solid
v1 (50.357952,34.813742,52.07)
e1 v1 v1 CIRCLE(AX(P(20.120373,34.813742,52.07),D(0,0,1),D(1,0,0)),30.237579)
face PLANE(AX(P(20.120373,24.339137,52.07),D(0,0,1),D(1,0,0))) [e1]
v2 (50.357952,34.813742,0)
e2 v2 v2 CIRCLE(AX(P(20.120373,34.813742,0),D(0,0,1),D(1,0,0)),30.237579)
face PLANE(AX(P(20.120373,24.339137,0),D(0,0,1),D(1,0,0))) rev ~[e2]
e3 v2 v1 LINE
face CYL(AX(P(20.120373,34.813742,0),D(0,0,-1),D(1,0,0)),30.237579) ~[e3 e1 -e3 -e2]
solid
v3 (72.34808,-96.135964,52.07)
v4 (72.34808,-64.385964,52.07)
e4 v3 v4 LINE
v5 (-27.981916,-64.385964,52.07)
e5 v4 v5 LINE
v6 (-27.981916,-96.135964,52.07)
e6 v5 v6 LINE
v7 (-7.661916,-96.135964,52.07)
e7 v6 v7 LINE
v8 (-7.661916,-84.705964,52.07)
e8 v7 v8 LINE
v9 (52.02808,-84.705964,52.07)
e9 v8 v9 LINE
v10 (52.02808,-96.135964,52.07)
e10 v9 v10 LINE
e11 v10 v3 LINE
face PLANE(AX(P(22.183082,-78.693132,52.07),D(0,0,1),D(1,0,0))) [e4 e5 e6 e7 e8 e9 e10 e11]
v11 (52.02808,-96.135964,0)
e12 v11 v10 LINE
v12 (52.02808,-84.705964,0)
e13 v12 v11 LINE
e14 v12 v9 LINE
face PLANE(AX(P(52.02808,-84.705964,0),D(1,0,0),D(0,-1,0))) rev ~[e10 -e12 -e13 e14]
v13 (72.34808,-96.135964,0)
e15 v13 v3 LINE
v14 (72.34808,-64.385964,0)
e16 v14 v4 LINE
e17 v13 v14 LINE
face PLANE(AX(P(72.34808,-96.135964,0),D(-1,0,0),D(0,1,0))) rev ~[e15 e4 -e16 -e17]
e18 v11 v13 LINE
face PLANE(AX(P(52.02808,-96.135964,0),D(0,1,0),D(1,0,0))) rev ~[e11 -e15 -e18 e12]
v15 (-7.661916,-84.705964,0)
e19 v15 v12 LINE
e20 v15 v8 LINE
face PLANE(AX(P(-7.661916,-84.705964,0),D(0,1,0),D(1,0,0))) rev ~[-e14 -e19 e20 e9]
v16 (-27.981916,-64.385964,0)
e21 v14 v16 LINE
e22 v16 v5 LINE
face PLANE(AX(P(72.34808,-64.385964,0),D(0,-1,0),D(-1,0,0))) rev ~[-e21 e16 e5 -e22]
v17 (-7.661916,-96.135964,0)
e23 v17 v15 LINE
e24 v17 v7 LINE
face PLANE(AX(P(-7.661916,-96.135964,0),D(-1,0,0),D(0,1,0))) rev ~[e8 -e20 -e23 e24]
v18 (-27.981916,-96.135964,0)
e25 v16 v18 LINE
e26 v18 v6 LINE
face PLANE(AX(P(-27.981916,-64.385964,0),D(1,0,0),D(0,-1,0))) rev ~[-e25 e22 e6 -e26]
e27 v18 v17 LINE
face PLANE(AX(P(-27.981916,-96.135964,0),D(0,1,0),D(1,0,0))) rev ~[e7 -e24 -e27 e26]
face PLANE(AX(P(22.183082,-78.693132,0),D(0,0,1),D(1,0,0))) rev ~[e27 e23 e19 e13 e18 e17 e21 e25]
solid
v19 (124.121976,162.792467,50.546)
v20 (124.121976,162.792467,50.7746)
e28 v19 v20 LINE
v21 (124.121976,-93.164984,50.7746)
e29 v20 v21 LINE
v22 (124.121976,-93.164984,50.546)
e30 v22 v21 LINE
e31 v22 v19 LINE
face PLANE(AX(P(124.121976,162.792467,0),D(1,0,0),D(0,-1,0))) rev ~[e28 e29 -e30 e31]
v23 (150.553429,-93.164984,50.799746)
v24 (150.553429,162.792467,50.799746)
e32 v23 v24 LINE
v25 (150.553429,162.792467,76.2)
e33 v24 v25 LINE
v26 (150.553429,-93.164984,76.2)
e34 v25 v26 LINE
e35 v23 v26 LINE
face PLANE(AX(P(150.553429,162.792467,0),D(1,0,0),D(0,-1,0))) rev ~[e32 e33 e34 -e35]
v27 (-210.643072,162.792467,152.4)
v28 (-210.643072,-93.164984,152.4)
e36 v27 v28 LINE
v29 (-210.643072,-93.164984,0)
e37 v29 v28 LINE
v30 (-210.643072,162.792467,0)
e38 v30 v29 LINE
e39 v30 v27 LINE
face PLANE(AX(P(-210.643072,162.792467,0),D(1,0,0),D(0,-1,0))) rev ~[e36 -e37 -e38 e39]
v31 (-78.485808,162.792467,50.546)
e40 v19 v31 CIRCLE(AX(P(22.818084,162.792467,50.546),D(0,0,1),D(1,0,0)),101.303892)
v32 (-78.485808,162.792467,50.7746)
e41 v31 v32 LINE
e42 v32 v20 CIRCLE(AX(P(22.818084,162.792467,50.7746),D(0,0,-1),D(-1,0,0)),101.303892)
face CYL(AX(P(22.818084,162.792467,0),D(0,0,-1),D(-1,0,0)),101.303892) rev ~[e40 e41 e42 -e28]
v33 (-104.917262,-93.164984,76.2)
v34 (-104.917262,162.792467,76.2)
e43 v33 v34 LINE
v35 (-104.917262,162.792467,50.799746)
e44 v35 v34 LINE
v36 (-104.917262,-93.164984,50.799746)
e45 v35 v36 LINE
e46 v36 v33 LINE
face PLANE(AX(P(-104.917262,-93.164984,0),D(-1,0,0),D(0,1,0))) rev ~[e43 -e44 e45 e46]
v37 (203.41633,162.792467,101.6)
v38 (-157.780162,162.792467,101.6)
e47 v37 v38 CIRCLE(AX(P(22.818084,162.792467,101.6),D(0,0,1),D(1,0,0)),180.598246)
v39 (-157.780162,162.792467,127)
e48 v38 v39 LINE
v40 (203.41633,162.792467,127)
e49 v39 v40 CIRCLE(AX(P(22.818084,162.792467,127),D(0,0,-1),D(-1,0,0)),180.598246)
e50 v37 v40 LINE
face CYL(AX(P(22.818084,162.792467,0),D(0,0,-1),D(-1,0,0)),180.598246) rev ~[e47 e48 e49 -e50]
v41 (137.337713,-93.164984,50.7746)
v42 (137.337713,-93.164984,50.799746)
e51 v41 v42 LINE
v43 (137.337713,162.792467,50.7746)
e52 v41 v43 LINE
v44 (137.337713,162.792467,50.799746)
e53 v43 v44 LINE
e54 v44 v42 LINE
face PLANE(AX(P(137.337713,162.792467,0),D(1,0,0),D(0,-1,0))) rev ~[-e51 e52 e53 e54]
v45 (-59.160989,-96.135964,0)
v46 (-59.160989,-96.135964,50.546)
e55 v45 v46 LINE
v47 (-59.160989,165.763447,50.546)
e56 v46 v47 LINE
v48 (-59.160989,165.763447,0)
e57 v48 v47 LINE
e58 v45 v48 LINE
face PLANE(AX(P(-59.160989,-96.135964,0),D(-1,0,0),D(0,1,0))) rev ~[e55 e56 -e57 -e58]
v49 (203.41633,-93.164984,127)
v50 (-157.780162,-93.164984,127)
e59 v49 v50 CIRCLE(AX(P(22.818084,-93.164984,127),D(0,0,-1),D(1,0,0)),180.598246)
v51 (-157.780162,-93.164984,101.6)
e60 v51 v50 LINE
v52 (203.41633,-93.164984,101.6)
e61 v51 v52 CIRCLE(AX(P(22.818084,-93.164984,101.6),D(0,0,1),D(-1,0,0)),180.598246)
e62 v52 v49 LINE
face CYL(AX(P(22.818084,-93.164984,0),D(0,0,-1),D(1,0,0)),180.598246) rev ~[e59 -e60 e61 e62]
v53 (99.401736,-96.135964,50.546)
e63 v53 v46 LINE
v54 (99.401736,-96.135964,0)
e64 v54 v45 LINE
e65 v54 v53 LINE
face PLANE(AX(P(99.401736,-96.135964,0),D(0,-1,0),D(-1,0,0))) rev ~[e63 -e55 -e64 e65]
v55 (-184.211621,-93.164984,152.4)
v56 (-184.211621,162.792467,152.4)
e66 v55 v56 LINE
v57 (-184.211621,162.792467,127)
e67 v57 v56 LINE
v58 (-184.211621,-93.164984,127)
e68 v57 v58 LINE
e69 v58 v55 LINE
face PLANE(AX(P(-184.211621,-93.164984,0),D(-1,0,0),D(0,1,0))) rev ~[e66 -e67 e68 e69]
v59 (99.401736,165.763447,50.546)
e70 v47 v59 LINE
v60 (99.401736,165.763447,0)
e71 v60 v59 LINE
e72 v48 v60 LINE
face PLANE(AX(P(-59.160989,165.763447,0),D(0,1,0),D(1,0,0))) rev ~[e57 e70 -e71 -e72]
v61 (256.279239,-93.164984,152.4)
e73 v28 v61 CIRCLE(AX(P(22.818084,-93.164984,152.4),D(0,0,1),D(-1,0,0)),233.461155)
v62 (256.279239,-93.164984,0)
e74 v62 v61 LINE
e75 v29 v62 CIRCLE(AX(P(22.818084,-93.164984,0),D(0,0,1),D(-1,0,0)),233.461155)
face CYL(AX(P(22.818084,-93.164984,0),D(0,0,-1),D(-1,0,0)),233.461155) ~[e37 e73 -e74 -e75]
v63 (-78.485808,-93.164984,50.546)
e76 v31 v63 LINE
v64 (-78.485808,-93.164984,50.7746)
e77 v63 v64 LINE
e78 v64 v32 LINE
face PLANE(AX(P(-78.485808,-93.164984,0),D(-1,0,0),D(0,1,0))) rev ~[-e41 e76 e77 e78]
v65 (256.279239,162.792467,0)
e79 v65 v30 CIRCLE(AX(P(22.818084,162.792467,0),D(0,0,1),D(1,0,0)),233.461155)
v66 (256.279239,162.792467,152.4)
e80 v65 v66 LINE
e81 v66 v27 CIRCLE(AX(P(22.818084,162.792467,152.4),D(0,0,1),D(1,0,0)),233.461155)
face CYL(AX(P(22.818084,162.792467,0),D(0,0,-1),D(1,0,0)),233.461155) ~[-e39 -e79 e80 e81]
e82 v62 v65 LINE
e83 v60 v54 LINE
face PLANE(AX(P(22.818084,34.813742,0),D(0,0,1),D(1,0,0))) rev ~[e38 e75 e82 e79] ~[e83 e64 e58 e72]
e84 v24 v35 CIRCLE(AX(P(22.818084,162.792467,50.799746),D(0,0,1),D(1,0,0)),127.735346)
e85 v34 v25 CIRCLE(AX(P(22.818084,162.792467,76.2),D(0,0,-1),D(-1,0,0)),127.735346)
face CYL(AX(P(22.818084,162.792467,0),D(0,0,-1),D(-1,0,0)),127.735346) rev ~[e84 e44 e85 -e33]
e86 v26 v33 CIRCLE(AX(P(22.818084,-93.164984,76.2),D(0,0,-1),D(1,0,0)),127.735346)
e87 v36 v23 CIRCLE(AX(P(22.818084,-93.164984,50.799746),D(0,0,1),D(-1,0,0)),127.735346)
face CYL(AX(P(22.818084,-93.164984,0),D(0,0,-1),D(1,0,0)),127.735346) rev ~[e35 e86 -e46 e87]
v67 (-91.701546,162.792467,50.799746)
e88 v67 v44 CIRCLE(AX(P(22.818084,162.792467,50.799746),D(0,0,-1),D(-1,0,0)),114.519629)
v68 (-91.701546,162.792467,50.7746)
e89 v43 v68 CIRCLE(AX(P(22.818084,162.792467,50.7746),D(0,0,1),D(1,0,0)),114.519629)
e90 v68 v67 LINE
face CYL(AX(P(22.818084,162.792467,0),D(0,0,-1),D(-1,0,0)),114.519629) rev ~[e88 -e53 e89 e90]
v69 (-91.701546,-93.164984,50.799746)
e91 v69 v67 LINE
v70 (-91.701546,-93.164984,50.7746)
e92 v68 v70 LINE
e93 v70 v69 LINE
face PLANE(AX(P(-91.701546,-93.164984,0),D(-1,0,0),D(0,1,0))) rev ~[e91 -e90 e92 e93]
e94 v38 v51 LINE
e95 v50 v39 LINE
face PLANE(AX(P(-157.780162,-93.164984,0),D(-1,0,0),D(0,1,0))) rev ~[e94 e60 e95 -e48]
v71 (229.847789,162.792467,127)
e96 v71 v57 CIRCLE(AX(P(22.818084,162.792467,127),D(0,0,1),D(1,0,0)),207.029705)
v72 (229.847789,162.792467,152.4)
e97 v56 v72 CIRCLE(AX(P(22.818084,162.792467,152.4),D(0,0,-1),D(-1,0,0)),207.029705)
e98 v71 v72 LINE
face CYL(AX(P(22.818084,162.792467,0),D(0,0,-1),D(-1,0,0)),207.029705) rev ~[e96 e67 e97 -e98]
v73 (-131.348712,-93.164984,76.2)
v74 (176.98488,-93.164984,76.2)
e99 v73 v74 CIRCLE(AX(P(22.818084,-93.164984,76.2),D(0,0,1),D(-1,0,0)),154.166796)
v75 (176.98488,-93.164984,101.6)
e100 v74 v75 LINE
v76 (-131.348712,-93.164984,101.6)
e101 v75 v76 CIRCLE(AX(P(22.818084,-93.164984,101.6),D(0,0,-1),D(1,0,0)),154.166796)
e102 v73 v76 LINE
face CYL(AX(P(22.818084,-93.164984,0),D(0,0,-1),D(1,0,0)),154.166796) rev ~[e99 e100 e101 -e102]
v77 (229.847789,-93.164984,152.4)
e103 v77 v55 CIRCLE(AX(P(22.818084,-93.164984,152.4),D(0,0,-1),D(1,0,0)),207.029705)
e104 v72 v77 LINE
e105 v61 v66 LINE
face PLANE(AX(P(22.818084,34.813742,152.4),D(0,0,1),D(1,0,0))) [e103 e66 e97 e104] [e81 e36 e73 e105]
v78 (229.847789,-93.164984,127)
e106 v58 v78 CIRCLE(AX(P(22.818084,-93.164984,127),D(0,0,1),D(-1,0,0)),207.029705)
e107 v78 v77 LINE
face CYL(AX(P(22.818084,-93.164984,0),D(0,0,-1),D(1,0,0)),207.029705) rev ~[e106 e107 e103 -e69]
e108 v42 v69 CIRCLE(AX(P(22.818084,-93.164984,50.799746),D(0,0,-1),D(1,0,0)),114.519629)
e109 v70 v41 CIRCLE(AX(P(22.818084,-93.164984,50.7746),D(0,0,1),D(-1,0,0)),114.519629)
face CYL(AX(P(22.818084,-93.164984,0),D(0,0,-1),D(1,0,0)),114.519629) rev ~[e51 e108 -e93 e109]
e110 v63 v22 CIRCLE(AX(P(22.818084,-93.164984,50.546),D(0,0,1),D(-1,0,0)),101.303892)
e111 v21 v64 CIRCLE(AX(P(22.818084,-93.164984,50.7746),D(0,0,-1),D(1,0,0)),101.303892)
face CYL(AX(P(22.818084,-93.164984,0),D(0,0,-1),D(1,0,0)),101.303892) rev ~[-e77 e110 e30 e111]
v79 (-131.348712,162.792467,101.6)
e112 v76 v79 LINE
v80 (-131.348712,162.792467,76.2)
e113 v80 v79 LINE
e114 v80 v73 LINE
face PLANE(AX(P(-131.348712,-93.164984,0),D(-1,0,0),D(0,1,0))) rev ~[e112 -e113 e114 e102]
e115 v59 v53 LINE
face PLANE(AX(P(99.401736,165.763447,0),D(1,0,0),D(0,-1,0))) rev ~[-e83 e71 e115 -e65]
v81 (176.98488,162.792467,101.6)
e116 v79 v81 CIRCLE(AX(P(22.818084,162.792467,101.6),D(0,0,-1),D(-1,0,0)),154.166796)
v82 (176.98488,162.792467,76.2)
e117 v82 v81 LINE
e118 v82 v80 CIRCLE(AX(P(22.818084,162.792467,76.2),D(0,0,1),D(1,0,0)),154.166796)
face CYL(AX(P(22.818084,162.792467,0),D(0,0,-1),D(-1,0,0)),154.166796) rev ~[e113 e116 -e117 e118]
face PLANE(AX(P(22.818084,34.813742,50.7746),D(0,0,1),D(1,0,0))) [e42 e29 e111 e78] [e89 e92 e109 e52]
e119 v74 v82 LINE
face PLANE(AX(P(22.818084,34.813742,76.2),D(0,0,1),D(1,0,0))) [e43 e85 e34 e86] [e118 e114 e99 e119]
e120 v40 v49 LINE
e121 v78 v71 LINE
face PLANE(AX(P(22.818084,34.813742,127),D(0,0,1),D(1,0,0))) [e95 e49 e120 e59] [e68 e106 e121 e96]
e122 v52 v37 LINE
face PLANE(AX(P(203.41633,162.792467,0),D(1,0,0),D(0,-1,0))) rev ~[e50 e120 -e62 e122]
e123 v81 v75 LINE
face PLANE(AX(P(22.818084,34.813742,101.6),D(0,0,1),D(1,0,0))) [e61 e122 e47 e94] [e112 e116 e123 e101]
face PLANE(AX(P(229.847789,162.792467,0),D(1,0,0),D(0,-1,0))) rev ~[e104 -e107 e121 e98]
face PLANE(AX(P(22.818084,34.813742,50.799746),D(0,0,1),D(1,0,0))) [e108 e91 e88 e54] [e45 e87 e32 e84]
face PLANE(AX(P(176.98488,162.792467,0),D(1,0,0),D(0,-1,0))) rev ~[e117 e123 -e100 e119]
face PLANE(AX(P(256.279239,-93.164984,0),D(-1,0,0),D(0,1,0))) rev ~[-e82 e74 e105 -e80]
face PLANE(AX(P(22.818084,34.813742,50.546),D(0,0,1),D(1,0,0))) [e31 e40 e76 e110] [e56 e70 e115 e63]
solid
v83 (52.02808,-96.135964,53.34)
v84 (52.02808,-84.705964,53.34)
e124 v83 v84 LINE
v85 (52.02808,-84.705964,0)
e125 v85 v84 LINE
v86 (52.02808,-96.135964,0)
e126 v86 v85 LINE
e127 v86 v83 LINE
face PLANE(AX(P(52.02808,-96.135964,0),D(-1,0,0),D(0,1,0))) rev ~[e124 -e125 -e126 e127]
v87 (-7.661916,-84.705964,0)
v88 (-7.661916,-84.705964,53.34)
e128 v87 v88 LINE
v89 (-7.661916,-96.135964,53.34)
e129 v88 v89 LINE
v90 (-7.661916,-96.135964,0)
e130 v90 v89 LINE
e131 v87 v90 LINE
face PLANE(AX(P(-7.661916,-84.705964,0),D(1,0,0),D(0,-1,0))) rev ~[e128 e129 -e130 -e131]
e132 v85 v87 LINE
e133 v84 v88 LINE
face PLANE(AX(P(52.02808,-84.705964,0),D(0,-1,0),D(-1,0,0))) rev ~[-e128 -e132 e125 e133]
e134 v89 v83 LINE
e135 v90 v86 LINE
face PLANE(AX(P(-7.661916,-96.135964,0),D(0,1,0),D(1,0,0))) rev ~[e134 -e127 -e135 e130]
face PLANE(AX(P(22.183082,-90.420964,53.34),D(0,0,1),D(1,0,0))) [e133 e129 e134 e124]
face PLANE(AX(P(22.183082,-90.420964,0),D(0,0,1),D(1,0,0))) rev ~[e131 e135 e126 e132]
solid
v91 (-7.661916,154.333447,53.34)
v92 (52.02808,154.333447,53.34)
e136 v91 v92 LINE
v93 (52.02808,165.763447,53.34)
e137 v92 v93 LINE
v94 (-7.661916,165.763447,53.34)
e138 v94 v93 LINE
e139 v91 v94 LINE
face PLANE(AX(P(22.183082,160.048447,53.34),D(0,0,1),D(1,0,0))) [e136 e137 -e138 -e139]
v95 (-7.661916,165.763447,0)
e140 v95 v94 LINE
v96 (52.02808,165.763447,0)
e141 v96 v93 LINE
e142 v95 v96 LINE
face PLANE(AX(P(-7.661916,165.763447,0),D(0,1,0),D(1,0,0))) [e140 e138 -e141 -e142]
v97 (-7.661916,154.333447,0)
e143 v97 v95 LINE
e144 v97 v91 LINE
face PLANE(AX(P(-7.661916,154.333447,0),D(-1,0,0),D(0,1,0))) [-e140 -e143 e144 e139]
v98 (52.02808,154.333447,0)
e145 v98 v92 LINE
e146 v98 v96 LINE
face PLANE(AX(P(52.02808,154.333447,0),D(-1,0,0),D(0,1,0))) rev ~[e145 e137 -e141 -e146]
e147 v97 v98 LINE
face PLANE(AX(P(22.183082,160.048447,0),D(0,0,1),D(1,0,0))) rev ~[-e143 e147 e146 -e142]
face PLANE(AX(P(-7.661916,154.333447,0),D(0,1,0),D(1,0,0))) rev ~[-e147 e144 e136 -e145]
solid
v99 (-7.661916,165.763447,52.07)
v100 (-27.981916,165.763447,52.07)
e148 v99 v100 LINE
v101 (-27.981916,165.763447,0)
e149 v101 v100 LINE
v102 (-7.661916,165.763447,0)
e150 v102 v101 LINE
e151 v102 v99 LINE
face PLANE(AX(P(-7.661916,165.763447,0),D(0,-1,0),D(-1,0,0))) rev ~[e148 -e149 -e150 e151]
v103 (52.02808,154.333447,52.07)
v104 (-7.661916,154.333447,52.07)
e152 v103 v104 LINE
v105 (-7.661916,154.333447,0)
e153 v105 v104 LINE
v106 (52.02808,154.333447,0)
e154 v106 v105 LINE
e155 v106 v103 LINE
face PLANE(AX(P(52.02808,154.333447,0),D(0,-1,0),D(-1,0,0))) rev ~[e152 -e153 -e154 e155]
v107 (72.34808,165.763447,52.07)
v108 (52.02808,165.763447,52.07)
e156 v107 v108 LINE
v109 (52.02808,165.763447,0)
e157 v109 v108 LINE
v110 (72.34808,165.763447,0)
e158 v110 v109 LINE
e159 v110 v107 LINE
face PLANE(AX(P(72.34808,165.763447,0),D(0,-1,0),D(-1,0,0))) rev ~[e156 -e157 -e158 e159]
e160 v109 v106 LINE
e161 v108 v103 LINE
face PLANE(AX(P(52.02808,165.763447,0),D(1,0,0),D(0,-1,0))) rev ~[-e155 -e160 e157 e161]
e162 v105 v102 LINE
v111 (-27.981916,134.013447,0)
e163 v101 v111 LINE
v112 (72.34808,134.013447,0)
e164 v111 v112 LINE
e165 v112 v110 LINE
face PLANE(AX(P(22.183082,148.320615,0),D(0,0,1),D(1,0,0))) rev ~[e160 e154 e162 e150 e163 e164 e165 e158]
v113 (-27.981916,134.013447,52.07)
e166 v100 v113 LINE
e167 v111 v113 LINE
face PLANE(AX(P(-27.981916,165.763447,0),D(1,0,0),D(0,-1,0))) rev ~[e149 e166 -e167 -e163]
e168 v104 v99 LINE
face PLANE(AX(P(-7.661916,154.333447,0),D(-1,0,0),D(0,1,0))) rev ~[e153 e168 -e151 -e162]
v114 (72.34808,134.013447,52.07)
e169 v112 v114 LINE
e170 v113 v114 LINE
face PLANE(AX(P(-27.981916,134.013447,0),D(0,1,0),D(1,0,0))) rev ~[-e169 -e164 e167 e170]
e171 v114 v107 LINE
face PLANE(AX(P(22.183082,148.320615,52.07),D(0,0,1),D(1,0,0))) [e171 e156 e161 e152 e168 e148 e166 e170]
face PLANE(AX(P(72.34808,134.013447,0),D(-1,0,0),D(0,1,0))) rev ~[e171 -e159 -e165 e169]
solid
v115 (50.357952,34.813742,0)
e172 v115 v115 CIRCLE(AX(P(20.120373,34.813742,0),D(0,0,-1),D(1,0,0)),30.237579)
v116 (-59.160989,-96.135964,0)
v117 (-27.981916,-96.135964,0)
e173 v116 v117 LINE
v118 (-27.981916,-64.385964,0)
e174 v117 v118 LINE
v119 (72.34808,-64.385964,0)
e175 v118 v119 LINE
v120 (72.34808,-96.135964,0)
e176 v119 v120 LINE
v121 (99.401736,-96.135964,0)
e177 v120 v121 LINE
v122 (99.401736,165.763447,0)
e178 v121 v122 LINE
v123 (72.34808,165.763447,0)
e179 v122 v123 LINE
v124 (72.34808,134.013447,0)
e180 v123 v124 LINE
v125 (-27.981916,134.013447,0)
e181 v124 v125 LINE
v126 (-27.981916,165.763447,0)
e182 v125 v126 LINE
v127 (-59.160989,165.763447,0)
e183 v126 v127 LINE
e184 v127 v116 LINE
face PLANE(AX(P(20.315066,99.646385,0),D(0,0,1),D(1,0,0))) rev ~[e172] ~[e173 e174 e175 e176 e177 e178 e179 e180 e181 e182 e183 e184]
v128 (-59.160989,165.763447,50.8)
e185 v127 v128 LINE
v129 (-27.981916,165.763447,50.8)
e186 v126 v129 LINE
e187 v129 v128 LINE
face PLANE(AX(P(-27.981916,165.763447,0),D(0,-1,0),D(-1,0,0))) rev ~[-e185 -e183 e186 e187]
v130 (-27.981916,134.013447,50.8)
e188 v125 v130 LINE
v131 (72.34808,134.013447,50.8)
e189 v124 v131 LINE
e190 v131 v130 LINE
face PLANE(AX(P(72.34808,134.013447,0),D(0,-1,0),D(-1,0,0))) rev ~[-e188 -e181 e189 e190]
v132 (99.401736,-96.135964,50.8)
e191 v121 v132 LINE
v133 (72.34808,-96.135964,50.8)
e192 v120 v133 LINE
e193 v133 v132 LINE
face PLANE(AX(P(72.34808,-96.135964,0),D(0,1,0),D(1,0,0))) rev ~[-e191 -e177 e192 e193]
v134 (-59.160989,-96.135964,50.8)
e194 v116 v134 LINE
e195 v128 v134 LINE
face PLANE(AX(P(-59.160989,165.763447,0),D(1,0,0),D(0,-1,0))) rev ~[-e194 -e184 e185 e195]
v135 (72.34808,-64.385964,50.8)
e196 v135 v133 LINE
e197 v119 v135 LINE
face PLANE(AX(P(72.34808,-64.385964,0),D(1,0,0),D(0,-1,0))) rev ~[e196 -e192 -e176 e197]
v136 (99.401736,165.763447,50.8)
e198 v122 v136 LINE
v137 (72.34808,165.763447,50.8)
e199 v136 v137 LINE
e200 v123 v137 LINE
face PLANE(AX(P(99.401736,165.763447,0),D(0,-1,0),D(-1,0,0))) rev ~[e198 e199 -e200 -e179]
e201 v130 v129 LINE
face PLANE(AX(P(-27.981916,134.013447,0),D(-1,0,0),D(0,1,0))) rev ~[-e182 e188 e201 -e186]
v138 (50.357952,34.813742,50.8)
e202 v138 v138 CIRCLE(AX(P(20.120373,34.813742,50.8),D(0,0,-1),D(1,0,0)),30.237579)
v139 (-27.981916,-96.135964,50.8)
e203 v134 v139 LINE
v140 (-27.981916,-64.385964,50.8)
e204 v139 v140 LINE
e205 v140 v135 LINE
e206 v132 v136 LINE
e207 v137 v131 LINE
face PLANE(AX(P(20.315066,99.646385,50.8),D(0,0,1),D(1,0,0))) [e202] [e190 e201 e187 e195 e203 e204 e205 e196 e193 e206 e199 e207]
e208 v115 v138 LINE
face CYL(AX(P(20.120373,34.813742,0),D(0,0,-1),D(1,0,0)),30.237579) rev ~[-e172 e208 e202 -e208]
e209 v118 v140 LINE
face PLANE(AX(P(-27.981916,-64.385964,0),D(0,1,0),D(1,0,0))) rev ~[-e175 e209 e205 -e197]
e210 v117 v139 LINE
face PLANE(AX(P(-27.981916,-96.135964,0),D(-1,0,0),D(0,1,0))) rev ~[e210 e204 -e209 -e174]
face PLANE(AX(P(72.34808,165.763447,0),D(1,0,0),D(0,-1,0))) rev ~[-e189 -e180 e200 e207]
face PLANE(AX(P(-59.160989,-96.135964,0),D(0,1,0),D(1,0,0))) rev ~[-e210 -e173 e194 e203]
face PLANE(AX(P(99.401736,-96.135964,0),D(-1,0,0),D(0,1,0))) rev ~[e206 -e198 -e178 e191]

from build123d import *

# Parameters (mm, degrees)
F0_W      = 59.6899963813
F0_H      = 11.43
F1_DEPTH  = 53.34
F2_DEPTH  = 52.07
F3_DEPTH  = 50.8
F4_DEPTH  = 50.546
F5_DEPTH  = 50.7746
F6_DEPTH  = 50.799746
F7_DEPTH  = 76.2
F8_DEPTH  = 101.6
F9_DEPTH  = 127
F10_DEPTH = 152.4


with BuildPart() as f1:
    # F0 (on Top) → F1 (new body)
    with BuildSketch(Plane.XY):
        with Locations((22.1830820161, 160.0484472161)):
            Rectangle(F0_W, F0_H)
    extrude(amount=F1_DEPTH)


with BuildPart() as f1b:
    # F0 (on Top) → F1, piece 2 (new body)
    with BuildSketch(Plane.XY):
        Polygon((-7.6619161746, -84.705963729), (-7.6619161746, -96.135963729), (22.8180838254, -96.135963729), (52.0280802068, -96.135963729), (52.0280802068, -94.8659601103), (52.0280802068, -84.705963729), align=None)
    extrude(amount=F1_DEPTH)


with BuildPart() as f2:
    # F0 (on Top) → F2 (new body)
    with BuildSketch(Plane.XY):
        Polygon((-27.9819161746, -64.385963729), (-27.9819161746, -96.135963729), (-7.6619161746, -96.135963729), (-7.6619161746, -84.705963729), (52.0280802068, -84.705963729), (52.0280802068, -94.8659601103), (52.0280802068, -96.135963729), (67.8483322263, -96.135963729), (72.3480802068, -96.135963729), (72.3480802068, -64.385963729), align=None)
    extrude(amount=F2_DEPTH)


with BuildPart() as f2b:
    # F0 (on Top) → F2, piece 2 (new body)
    with BuildSketch(Plane.XY):
        Polygon((-7.6619161746, 165.7634472161), (-27.9819161746, 165.7634472161), (-27.9819161746, 134.0134472161), (72.3480802068, 134.0134472161), (72.3480802068, 165.7634472161), (52.0280802068, 165.7634472161), (52.0280802068, 154.3334472161), (-7.6619161746, 154.3334472161), align=None)
    extrude(amount=F2_DEPTH)


with BuildPart() as f2c:
    # F0 (on Top) → F2, piece 3 (new body)
    with BuildSketch(Plane.XY):
        with BuildLine():
            Line((50.3579524463, 34.8137417436), (-10.1172057288, 34.8137417436))
            ThreePointArc((-10.1172057288, 34.8137417436), (20.1203733588, 4.576162656), (50.3579524463, 34.8137417436))
        make_face()
        with BuildLine():
            ThreePointArc((50.3579524463, 34.8137417436), (20.1203733588, 65.0513208311), (-10.1172057288, 34.8137417436))
            Line((-10.1172057288, 34.8137417436), (50.3579524463, 34.8137417436))
        make_face()
    extrude(amount=F2_DEPTH)


with BuildPart() as f3:
    # F0 (on Top) → F3 (new body)
    with BuildSketch(Plane.XY):
        with BuildLine():
            Line((-27.9819161746, 165.7634472161), (-59.1609889327, 165.7634472161))
            Line((-59.1609889327, 165.7634472161), (-59.1609889327, 34.8137417436))
            Line((-59.1609889327, 34.8137417436), (-10.1172057288, 34.8137417436))
            ThreePointArc((-10.1172057288, 34.8137417436), (20.1203733588, 65.0513208311), (50.3579524463, 34.8137417436))
            Line((50.3579524463, 34.8137417436), (99.4017356502, 34.8137417436))
            Line((99.4017356502, 34.8137417436), (99.4017356502, 165.7634472161))
            Line((99.4017356502, 165.7634472161), (72.3480802068, 165.7634472161))
            Line((72.3480802068, 165.7634472161), (72.3480802068, 134.0134472161))
            Line((72.3480802068, 134.0134472161), (-27.9819161746, 134.0134472161))
            Line((-27.9819161746, 134.0134472161), (-27.9819161746, 165.7634472161))
        make_face()
        with BuildLine():
            Line((-10.1172057288, 34.8137417436), (-59.1609889327, 34.8137417436))
            Line((-59.1609889327, 34.8137417436), (-59.1609889327, -96.135963729))
            Line((-59.1609889327, -96.135963729), (-27.9819161746, -96.135963729))
            Line((-27.9819161746, -96.135963729), (-27.9819161746, -64.385963729))
            Line((-27.9819161746, -64.385963729), (72.3480802068, -64.385963729))
            Line((72.3480802068, -64.385963729), (72.3480802068, -96.135963729))
            Line((72.3480802068, -96.135963729), (99.4017356502, -96.135963729))
            Line((99.4017356502, -96.135963729), (99.4017356502, 34.8137417436))
            Line((99.4017356502, 34.8137417436), (50.3579524463, 34.8137417436))
            ThreePointArc((50.3579524463, 34.8137417436), (20.1203733588, 4.576162656), (-10.1172057288, 34.8137417436))
        make_face()
    extrude(amount=F3_DEPTH)


with BuildPart() as f4:
    # F0 (on Top) → F4 (new body)
    with BuildSketch(Plane.XY):
        with BuildLine():
            Line((124.1219758281, -93.1649838208), (124.1219758281, 162.7924673079))
            ThreePointArc((124.1219758281, 162.7924673079), (22.8180838254, 264.0963593106), (-78.4858081773, 162.7924673079))
            Line((-78.4858081773, 162.7924673079), (-78.4858081773, -93.1649838208))
            ThreePointArc((-78.4858081773, -93.1649838208), (22.8180838254, -194.4688758235), (124.1219758281, -93.1649838208))
        make_face()
        Polygon((-59.1609889327, 34.8137417436), (-59.1609889327, 165.7634472161), (-27.9819161746, 165.7634472161), (-7.6619161746, 165.7634472161), (52.0280802068, 165.7634472161), (72.3480802068, 165.7634472161), (99.4017356502, 165.7634472161), (99.4017356502, 34.8137417436), (99.4017356502, -96.135963729), (72.3480802068, -96.135963729), (67.8483322263, -96.135963729), (52.0280802068, -96.135963729), (22.8180838254, -96.135963729), (-7.6619161746, -96.135963729), (-27.9819161746, -96.135963729), (-59.1609889327, -96.135963729), align=None, mode=Mode.SUBTRACT)
    extrude(amount=F4_DEPTH)

    # F0 (on Top) → F5 (join)
    with BuildSketch(Plane.XY):
        with BuildLine():
            Line((137.3377131925, -93.1649838208), (137.3377131925, 162.7924673079))
            ThreePointArc((137.3377131925, 162.7924673079), (22.8180838254, 277.312096675), (-91.7015455416, 162.7924673079))
            Line((-91.7015455416, 162.7924673079), (-91.7015455416, -93.1649838208))
            ThreePointArc((-91.7015455416, -93.1649838208), (22.8180838254, -207.6846131878), (137.3377131925, -93.1649838208))
        make_face()
        with BuildLine():
            ThreePointArc((-78.4858081773, 162.7924673079), (22.8180838254, 264.0963593106), (124.1219758281, 162.7924673079))
            Line((124.1219758281, 162.7924673079), (124.1219758281, -93.1649838208))
            ThreePointArc((124.1219758281, -93.1649838208), (22.8180838254, -194.4688758235), (-78.4858081773, -93.1649838208))
            Line((-78.4858081773, -93.1649838208), (-78.4858081773, 162.7924673079))
        make_face(mode=Mode.SUBTRACT)
    extrude(amount=F5_DEPTH)

    # F0 (on Top) → F6 (join)
    with BuildSketch(Plane.XY):
        with BuildLine():
            Line((150.5534294362, -93.1649838208), (150.5534294362, 162.7924673079))
            ThreePointArc((150.5534294362, 162.7924673079), (22.8180838254, 290.5278129187), (-104.9172617853, 162.7924673079))
            Line((-104.9172617853, 162.7924673079), (-104.9172617853, -93.1649838208))
            ThreePointArc((-104.9172617853, -93.1649838208), (22.8180838254, -220.9003294315), (150.5534294362, -93.1649838208))
        make_face()
        with BuildLine():
            ThreePointArc((-91.7015455416, 162.7924673079), (22.8180838254, 277.312096675), (137.3377131925, 162.7924673079))
            Line((137.3377131925, 162.7924673079), (137.3377131925, -93.1649838208))
            ThreePointArc((137.3377131925, -93.1649838208), (22.8180838254, -207.6846131878), (-91.7015455416, -93.1649838208))
            Line((-91.7015455416, -93.1649838208), (-91.7015455416, 162.7924673079))
        make_face(mode=Mode.SUBTRACT)
    extrude(amount=F6_DEPTH)

    # F0 (on Top) → F7 (join)
    with BuildSketch(Plane.XY):
        with BuildLine():
            Line((176.9848796875, -93.1649838208), (176.9848796875, 162.7924673079))
            ThreePointArc((176.9848796875, 162.7924673079), (22.8180838254, 316.95926317), (-131.3487120367, 162.7924673079))
            Line((-131.3487120367, 162.7924673079), (-131.3487120367, -93.1649838208))
            ThreePointArc((-131.3487120367, -93.1649838208), (22.8180838254, -247.3317796829), (176.9848796875, -93.1649838208))
        make_face()
        with BuildLine():
            ThreePointArc((-104.9172617853, 162.7924673079), (22.8180838254, 290.5278129187), (150.5534294362, 162.7924673079))
            Line((150.5534294362, 162.7924673079), (150.5534294362, -93.1649838208))
            ThreePointArc((150.5534294362, -93.1649838208), (22.8180838254, -220.9003294315), (-104.9172617853, -93.1649838208))
            Line((-104.9172617853, -93.1649838208), (-104.9172617853, 162.7924673079))
        make_face(mode=Mode.SUBTRACT)
    extrude(amount=F7_DEPTH)

    # F0 (on Top) → F8 (join)
    with BuildSketch(Plane.XY):
        with BuildLine():
            Line((203.4163299388, -93.1649838208), (203.4163299388, 162.7924673079))
            ThreePointArc((203.4163299388, 162.7924673079), (22.8180838254, 343.3907134213), (-157.780162288, 162.7924673079))
            Line((-157.780162288, 162.7924673079), (-157.780162288, -93.1649838208))
            ThreePointArc((-157.780162288, -93.1649838208), (22.8180838254, -273.7632299342), (203.4163299388, -93.1649838208))
        make_face()
        with BuildLine():
            ThreePointArc((-131.3487120367, 162.7924673079), (22.8180838254, 316.95926317), (176.9848796875, 162.7924673079))
            Line((176.9848796875, 162.7924673079), (176.9848796875, -93.1649838208))
            ThreePointArc((176.9848796875, -93.1649838208), (22.8180838254, -247.3317796829), (-131.3487120367, -93.1649838208))
            Line((-131.3487120367, -93.1649838208), (-131.3487120367, 162.7924673079))
        make_face(mode=Mode.SUBTRACT)
    extrude(amount=F8_DEPTH)

    # F0 (on Top) → F9 (join)
    with BuildSketch(Plane.XY):
        with BuildLine():
            Line((229.8477889233, -93.1649838208), (229.8477889233, 162.7924673079))
            ThreePointArc((229.8477889233, 162.7924673079), (22.8180838254, 369.8221724058), (-184.2116212725, 162.7924673079))
            Line((-184.2116212725, 162.7924673079), (-184.2116212725, -93.1649838208))
            ThreePointArc((-184.2116212725, -93.1649838208), (22.8180838254, -300.1946889187), (229.8477889233, -93.1649838208))
        make_face()
        with BuildLine():
            ThreePointArc((-157.780162288, 162.7924673079), (22.8180838254, 343.3907134213), (203.4163299388, 162.7924673079))
            Line((203.4163299388, 162.7924673079), (203.4163299388, -93.1649838208))
            ThreePointArc((203.4163299388, -93.1649838208), (22.8180838254, -273.7632299342), (-157.780162288, -93.1649838208))
            Line((-157.780162288, -93.1649838208), (-157.780162288, 162.7924673079))
        make_face(mode=Mode.SUBTRACT)
    extrude(amount=F9_DEPTH)

    # F0 (on Top) → F10 (join)
    with BuildSketch(Plane.XY):
        with BuildLine():
            Line((256.2792391746, -93.1649838208), (256.2792391746, 162.7924673079))
            ThreePointArc((256.2792391746, 162.7924673079), (22.8180838254, 396.2536226571), (-210.6430715238, 162.7924673079))
            Line((-210.6430715238, 162.7924673079), (-210.6430715238, -93.1649838208))
            ThreePointArc((-210.6430715238, -93.1649838208), (22.8180838254, -326.62613917), (256.2792391746, -93.1649838208))
        make_face()
        with BuildLine():
            ThreePointArc((-184.2116212725, 162.7924673079), (22.8180838254, 369.8221724058), (229.8477889233, 162.7924673079))
            Line((229.8477889233, 162.7924673079), (229.8477889233, -93.1649838208))
            ThreePointArc((229.8477889233, -93.1649838208), (22.8180838254, -300.1946889187), (-184.2116212725, -93.1649838208))
            Line((-184.2116212725, -93.1649838208), (-184.2116212725, 162.7924673079))
        make_face(mode=Mode.SUBTRACT)
    extrude(amount=F10_DEPTH)


solid = Compound([f1.part, f1b.part, f2.part, f2b.part, f2c.part, f3.part, f4.part])
